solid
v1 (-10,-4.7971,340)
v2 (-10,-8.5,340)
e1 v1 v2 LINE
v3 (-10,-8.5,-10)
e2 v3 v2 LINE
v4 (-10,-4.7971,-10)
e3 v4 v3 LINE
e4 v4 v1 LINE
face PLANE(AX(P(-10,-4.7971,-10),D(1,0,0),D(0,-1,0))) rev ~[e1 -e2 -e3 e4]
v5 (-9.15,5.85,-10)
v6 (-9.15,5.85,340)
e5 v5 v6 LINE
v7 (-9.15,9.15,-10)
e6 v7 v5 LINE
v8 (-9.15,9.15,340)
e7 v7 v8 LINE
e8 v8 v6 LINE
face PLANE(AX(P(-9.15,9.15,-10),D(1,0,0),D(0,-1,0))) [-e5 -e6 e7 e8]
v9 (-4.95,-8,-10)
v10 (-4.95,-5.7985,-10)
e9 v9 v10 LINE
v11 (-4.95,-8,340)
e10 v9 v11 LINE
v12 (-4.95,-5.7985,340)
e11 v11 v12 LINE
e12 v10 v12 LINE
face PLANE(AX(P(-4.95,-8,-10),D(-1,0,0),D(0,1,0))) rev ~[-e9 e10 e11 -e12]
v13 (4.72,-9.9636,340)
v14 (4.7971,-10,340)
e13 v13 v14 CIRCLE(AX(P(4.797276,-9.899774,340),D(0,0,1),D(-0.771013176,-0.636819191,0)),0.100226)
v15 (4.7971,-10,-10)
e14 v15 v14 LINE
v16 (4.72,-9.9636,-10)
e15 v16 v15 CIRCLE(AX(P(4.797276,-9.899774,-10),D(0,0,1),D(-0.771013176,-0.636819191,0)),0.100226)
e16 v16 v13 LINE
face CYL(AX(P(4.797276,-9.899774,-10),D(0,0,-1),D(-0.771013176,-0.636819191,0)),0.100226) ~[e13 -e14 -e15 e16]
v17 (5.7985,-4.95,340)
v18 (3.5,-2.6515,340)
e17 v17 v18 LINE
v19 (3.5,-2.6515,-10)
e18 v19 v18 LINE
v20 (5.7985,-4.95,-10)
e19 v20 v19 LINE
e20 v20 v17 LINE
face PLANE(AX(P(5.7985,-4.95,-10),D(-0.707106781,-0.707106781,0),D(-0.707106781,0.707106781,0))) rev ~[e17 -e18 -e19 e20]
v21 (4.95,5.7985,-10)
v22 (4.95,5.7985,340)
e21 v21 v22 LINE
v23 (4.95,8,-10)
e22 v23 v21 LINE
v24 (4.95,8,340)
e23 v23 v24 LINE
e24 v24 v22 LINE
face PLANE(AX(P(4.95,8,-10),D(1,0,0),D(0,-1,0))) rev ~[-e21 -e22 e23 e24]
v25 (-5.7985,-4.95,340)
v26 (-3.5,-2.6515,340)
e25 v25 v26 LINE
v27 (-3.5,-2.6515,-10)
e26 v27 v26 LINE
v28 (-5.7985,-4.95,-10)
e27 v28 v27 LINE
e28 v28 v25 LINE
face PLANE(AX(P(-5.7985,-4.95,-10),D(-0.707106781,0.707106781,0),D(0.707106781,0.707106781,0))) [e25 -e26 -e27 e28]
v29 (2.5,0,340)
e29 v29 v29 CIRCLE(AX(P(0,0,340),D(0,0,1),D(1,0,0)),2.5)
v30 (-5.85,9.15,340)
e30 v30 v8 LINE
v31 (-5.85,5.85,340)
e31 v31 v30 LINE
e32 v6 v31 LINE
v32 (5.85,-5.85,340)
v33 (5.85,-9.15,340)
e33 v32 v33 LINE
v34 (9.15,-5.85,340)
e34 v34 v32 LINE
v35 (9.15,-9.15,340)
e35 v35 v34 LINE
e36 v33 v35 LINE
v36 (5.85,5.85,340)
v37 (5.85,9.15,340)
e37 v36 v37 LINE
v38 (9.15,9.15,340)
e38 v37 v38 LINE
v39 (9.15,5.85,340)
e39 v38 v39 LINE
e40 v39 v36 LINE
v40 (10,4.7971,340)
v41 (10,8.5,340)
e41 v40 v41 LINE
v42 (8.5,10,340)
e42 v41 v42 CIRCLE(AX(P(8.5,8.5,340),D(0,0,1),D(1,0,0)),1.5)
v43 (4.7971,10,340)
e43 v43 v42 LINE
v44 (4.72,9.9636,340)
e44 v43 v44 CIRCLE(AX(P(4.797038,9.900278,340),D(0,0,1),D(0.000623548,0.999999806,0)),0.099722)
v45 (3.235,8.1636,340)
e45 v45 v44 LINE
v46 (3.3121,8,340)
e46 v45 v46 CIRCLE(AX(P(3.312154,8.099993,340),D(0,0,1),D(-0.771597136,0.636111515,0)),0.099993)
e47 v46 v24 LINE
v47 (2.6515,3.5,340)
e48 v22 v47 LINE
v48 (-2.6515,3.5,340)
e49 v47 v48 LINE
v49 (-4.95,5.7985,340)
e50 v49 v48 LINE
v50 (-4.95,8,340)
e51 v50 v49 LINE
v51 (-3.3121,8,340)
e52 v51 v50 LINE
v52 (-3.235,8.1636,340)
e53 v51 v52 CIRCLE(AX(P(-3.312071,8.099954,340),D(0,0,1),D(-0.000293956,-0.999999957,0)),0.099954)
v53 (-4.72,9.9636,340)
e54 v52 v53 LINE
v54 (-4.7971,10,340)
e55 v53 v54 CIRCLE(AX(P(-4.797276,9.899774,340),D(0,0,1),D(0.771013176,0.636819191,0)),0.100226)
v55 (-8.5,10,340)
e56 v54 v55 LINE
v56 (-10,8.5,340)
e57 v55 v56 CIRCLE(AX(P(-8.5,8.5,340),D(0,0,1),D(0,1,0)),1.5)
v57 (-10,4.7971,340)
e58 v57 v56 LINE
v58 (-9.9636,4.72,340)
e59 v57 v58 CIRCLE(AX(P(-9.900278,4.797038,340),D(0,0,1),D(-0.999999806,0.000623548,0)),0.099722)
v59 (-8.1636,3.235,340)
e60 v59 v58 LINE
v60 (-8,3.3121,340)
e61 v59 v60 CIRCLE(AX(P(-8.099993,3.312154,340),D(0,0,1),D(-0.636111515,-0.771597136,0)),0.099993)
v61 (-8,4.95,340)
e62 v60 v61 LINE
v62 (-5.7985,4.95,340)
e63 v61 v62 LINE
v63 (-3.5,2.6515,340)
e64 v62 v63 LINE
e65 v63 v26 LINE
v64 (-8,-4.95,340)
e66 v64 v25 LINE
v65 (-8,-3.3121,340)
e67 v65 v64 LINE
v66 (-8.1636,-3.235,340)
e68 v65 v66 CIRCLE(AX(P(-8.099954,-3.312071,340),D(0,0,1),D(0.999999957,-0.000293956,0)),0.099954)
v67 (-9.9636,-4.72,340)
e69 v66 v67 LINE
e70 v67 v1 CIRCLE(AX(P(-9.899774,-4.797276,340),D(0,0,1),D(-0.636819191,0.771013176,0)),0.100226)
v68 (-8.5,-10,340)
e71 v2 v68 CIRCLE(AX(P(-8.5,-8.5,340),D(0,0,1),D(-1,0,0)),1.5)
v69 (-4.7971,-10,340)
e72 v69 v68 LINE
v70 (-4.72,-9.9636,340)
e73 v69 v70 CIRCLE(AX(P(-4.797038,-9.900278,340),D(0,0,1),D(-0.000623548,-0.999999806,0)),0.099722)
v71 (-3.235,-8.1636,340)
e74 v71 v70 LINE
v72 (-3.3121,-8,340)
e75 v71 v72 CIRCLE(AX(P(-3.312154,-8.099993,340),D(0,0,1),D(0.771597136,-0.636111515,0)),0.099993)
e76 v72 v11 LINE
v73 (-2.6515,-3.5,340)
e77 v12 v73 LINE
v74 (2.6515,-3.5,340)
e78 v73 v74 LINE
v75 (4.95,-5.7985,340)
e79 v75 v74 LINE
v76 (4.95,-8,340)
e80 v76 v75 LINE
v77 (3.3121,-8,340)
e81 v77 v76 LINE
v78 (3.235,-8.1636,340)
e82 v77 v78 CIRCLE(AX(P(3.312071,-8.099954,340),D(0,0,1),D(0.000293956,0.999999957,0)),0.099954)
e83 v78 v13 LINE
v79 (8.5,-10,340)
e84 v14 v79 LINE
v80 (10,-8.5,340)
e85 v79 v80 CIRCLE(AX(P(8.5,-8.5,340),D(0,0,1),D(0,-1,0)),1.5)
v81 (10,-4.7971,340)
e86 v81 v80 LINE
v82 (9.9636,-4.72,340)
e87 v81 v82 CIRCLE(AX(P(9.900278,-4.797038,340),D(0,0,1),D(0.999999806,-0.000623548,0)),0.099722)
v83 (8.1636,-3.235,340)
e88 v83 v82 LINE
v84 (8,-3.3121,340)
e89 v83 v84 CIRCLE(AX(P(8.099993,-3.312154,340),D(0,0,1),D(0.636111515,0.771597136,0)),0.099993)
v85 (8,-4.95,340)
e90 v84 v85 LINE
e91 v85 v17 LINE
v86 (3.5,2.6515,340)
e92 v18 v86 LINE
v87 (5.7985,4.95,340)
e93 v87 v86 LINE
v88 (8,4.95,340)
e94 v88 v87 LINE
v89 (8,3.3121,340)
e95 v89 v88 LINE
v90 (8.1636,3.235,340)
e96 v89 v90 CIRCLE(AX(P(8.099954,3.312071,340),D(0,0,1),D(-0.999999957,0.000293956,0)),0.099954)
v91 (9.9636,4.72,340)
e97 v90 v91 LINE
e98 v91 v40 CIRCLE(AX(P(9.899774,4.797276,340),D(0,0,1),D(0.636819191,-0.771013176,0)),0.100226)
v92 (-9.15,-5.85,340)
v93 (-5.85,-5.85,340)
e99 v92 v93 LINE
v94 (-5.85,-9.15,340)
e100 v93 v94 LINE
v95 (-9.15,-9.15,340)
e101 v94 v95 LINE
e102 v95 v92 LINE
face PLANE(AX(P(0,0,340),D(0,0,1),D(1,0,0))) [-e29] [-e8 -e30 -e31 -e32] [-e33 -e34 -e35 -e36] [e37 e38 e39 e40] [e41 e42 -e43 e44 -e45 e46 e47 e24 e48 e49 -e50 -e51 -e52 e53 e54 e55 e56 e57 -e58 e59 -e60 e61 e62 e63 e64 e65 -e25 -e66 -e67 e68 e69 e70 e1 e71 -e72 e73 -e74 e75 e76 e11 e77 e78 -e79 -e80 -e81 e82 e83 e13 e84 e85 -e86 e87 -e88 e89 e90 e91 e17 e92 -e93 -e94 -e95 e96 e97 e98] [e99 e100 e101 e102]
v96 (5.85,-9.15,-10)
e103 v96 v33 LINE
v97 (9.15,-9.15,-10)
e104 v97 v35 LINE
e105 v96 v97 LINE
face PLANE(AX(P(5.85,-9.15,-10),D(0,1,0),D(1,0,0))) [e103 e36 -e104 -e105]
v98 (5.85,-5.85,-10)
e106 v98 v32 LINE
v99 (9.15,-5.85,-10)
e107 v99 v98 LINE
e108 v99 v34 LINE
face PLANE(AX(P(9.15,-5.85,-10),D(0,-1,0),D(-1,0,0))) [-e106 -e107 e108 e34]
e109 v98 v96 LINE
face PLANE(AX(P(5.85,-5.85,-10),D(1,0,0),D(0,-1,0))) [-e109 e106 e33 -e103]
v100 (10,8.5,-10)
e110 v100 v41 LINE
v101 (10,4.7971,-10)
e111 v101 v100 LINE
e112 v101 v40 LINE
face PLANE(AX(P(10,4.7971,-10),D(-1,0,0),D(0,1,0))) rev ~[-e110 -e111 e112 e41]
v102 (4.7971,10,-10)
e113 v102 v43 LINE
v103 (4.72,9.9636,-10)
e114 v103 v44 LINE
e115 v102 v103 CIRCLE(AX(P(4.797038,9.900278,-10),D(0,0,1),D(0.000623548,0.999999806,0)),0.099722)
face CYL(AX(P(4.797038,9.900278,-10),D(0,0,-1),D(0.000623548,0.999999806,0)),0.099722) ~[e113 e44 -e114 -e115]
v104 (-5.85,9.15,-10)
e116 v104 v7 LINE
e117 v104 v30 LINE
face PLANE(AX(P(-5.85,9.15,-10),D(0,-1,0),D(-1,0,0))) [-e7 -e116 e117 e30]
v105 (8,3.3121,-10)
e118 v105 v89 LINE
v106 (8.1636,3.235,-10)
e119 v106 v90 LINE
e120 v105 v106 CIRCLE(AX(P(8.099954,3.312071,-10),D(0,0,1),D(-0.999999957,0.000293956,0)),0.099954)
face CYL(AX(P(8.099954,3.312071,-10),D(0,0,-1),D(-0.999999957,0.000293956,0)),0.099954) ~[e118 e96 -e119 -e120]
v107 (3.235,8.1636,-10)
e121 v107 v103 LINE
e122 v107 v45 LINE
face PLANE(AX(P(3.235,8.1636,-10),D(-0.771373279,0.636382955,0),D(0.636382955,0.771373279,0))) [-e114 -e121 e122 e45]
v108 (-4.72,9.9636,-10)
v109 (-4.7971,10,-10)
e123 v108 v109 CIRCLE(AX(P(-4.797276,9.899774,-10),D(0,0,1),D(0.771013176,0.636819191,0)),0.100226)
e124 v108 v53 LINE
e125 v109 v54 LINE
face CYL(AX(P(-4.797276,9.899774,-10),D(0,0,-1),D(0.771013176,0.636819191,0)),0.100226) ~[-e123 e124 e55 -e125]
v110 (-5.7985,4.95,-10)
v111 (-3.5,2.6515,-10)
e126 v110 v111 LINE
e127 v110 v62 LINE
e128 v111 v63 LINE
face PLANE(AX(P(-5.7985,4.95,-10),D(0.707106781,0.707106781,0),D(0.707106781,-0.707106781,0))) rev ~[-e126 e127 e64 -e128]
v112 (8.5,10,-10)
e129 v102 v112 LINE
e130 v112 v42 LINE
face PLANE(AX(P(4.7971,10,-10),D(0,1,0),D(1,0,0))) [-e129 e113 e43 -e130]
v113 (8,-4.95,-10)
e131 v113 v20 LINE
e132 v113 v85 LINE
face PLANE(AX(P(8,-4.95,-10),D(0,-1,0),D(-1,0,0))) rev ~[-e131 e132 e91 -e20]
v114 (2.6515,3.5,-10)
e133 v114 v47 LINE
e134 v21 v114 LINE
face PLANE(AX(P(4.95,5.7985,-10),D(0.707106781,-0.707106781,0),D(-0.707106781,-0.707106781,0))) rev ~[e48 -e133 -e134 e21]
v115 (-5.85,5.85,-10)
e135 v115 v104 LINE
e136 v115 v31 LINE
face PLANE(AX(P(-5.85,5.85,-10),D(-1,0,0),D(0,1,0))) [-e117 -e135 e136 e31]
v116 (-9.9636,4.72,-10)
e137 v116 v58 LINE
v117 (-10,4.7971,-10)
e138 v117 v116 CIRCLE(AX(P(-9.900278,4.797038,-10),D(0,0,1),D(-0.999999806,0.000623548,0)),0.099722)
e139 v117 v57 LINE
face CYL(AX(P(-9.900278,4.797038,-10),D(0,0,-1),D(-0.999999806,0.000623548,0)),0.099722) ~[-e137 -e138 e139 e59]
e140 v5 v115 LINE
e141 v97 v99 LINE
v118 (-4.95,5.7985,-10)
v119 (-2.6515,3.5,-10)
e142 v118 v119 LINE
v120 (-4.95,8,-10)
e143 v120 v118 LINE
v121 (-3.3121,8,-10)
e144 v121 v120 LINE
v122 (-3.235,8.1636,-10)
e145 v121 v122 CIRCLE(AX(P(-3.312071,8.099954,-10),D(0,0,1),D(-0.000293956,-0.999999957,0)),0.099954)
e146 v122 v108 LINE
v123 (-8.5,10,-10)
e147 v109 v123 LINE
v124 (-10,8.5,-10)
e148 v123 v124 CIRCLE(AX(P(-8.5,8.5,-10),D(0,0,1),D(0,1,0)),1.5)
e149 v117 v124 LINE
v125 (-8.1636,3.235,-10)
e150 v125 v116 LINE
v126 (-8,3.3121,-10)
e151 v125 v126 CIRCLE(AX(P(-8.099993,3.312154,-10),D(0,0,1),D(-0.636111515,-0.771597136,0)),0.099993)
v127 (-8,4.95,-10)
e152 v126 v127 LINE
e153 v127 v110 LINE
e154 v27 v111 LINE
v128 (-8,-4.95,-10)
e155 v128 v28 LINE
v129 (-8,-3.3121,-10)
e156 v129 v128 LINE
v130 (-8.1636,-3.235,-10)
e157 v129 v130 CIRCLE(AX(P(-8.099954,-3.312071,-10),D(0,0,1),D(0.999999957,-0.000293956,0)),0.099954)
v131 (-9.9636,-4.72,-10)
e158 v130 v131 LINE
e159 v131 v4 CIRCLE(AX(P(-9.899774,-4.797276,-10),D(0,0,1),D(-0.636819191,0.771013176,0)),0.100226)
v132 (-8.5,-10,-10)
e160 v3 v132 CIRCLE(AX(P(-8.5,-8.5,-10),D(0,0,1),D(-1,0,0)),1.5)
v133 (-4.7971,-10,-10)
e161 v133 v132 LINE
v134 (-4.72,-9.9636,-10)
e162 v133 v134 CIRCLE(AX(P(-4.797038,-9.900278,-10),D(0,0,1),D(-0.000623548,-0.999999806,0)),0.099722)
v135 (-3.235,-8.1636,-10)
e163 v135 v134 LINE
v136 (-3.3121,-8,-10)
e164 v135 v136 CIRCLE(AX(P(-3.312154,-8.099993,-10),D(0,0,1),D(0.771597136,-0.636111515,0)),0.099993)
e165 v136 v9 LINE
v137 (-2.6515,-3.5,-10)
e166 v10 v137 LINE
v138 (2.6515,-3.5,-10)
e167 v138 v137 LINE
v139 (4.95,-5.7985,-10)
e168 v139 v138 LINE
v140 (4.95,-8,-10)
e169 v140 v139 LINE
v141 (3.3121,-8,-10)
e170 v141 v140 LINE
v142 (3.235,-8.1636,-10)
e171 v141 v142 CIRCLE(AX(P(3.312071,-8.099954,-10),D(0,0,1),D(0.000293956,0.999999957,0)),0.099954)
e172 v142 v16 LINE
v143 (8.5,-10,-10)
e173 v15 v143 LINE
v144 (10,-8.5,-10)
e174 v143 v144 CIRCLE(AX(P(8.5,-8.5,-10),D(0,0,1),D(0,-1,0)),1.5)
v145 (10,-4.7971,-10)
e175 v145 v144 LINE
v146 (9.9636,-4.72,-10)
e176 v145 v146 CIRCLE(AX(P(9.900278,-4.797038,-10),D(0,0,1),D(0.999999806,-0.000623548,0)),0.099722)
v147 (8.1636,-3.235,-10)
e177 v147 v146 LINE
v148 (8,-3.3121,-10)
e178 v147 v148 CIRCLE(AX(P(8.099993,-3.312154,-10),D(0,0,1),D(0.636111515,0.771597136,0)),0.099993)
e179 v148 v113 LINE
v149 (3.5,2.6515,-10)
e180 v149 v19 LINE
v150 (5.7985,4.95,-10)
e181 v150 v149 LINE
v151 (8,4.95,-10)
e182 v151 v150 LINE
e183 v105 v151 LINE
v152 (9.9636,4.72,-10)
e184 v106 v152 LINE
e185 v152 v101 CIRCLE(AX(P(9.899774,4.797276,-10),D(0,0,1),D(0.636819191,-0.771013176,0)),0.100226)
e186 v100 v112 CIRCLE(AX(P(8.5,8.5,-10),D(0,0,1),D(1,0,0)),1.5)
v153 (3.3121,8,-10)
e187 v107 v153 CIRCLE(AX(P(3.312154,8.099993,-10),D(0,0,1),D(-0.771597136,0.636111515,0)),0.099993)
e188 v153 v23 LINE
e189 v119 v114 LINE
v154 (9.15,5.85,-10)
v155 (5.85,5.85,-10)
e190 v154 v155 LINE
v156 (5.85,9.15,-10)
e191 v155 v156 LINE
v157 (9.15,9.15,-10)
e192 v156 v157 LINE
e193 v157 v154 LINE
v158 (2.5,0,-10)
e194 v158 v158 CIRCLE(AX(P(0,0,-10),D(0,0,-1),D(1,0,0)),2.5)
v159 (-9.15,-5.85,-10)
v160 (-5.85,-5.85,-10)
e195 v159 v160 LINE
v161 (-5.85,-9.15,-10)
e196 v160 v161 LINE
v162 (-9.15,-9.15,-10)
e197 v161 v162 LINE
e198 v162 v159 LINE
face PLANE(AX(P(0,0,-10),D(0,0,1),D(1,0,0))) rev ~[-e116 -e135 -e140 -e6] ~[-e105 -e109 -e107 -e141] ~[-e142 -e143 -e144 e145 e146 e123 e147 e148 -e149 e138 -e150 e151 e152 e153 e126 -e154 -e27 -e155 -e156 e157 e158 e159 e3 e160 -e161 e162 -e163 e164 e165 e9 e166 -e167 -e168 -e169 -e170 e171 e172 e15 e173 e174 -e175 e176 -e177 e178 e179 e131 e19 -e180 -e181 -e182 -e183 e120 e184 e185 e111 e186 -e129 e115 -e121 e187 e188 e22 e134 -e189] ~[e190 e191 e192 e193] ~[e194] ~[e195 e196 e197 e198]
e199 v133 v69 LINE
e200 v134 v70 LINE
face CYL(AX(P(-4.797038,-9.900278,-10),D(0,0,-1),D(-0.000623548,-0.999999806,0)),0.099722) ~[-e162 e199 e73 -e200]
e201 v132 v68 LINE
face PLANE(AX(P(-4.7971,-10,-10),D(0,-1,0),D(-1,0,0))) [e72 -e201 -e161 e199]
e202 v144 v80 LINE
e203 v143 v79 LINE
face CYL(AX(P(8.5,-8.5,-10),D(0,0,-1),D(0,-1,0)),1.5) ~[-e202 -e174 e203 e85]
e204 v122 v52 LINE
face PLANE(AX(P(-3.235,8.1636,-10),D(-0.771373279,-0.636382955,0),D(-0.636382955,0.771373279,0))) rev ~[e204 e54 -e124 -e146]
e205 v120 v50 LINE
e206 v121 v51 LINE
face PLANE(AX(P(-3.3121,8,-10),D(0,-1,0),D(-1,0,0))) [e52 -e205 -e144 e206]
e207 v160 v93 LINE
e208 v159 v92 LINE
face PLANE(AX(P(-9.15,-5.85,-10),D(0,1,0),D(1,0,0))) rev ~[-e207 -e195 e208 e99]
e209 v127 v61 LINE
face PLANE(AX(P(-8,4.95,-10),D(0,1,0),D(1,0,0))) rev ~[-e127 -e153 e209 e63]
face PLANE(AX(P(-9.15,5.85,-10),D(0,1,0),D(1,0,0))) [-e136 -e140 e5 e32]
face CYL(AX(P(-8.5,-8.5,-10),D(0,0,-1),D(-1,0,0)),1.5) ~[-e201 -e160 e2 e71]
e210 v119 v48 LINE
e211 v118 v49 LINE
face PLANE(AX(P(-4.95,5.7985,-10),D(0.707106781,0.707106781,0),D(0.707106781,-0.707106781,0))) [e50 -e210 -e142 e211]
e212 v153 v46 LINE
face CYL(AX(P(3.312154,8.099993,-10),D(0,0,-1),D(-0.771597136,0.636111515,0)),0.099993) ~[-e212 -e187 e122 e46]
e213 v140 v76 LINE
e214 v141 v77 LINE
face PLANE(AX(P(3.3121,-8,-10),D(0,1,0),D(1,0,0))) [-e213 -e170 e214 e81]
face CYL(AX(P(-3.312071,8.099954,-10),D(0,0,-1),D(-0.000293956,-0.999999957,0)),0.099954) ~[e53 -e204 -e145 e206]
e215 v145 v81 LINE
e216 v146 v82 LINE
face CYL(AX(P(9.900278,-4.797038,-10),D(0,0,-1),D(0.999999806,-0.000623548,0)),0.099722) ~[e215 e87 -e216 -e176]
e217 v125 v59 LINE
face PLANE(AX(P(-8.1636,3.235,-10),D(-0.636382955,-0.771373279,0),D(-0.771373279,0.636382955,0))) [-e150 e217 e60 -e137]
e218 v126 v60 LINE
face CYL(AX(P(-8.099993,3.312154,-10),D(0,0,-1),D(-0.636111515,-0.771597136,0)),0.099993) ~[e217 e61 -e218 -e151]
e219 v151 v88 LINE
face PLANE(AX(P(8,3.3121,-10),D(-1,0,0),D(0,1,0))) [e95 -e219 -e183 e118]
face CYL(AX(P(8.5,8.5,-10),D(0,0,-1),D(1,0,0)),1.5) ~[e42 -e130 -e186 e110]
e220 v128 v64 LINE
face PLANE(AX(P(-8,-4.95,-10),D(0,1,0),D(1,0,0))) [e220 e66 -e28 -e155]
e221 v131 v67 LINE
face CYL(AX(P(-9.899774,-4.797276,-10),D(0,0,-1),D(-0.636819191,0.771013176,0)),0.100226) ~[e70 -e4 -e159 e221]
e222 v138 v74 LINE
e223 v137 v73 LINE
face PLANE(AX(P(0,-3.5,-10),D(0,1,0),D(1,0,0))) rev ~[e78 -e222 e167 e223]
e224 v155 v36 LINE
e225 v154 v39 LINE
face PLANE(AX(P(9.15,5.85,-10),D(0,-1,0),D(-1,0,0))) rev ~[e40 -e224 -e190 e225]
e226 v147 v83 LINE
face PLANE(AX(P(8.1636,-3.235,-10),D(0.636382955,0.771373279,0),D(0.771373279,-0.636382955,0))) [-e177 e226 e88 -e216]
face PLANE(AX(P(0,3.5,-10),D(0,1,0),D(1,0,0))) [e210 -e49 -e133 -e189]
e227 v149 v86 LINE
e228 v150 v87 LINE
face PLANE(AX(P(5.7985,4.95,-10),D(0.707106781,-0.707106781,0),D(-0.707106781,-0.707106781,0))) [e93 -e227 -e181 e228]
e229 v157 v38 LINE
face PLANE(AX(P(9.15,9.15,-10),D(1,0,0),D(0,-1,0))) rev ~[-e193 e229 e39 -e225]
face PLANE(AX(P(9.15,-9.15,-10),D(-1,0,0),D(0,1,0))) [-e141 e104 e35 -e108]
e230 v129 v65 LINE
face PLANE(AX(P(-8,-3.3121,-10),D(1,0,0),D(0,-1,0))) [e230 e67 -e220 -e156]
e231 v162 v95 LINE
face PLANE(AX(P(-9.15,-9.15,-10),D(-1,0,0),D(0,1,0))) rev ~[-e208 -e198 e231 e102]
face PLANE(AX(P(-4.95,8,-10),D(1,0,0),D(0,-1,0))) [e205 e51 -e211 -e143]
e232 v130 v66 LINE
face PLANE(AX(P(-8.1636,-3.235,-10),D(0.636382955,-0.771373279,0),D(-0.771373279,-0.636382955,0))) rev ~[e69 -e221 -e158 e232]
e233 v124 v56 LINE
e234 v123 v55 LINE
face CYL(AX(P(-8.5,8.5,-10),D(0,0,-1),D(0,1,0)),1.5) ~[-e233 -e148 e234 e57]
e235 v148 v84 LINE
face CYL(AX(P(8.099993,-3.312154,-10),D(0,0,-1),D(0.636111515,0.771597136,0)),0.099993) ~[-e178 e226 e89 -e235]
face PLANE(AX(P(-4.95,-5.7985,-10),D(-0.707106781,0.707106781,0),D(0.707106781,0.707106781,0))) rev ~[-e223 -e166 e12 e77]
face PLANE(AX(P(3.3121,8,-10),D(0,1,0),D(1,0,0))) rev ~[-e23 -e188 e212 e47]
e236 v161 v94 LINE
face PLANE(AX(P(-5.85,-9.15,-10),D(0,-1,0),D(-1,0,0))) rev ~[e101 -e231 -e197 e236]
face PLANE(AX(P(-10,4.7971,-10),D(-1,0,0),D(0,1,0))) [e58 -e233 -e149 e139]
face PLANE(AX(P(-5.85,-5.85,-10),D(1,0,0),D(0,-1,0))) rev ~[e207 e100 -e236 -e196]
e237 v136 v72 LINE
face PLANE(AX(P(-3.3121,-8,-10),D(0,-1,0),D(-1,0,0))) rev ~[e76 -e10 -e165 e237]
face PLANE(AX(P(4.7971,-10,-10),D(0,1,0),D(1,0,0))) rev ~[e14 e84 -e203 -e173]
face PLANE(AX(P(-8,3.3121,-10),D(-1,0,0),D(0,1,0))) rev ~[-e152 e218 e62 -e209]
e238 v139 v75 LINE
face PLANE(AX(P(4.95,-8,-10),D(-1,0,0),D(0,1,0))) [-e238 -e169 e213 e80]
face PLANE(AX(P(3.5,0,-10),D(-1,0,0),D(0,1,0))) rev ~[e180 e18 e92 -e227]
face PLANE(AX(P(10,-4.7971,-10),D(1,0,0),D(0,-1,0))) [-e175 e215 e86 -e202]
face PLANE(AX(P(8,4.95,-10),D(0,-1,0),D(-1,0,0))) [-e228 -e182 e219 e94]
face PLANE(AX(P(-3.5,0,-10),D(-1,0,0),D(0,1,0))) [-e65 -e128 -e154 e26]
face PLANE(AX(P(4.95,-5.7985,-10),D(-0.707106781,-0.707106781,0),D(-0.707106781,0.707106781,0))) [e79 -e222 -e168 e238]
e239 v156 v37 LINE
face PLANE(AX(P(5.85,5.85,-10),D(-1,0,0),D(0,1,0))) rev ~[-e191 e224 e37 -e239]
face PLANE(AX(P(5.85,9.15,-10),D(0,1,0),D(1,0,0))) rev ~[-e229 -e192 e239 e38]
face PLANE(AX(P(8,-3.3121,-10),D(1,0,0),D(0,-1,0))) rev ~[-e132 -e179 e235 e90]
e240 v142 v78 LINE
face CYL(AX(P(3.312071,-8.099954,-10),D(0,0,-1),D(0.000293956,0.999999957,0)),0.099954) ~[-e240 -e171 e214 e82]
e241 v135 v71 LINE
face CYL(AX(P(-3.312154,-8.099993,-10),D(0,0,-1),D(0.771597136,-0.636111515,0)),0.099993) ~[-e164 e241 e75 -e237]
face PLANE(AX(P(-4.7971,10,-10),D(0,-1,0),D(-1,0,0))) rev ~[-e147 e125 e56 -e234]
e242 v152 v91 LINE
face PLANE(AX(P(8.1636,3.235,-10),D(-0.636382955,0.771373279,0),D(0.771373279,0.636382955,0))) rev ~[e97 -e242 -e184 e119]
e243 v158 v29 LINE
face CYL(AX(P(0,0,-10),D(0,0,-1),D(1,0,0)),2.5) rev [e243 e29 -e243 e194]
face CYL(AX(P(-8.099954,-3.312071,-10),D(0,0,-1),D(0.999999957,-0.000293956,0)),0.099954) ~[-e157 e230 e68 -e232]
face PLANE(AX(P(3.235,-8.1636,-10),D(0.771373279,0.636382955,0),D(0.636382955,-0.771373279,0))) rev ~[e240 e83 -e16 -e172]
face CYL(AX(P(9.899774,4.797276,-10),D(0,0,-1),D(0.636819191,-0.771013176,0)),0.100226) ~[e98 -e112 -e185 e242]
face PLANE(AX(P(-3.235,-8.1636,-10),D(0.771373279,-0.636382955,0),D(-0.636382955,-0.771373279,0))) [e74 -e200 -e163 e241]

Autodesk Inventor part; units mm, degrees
ref_plane "Начальная плоскость" through (0, 0, -10) normal (0, 0, 1) x (1, 0, 0)
ref_plane "Конечная плоскость" through (0, 0, 340) normal (0, 0, 1) x (1, 0, 0)
sketch "Эскиз" plane through (0, 0, 0) normal (0, 0, 1) x (1, 0, 0)
  line L0 (-14.4349, 0) -> (14.4349, 0) projected
  line L1 (0, -14) -> (0, 14) projected
  line L2 (0, 0) -> (7.5, 7.5) construction
  circle A0 centre (7.5, 7.5) radius 1.65 construction
  line L3 (5.85, 9.15) -> (9.15, 9.15)
  line L4 (9.15, 9.15) -> (9.15, 5.85)
  line L5 (9.15, 5.85) -> (5.85, 5.85)
  line L6 (5.85, 5.85) -> (5.85, 9.15)
  line L7 (3.235, 8.1636) -> (4.72, 9.9636)
  line L8 (4.7971, 10) -> (8.5, 10)
  line L9 (3.3121, 8) -> (4.95, 8)
  line L10 (4.95, 8) -> (4.95, 5.7985)
  line L11 (4.95, 5.7985) -> (2.6515, 3.5)
  line L12 (0, 3.5) -> (2.6515, 3.5)
  circle A1 centre (0, 0) radius 2.5
  line L13 (8.1636, 3.235) -> (9.9636, 4.72)
  line L14 (10, 4.7971) -> (10, 8.5)
  line L15 (8, 3.3121) -> (8, 4.95)
  line L16 (8, 4.95) -> (5.7985, 4.95)
  line L17 (5.7985, 4.95) -> (3.5, 2.6515)
  line L18 (3.5, 0) -> (3.5, 2.6515)
  arc A2 (10, 8.5) -> (8.5, 10) centre (8.5, 8.5) ccw
  line L19 (0, 0) -> (-7.5, 7.5) construction
  circle A3 centre (-7.5, 7.5) radius 1.65 construction
  line L20 (-5.85, 9.15) -> (-9.15, 9.15)
  line L21 (-9.15, 9.15) -> (-9.15, 5.85)
  line L22 (-9.15, 5.85) -> (-5.85, 5.85)
  line L23 (-5.85, 5.85) -> (-5.85, 9.15)
  line L24 (-3.235, 8.1636) -> (-4.72, 9.9636)
  line L25 (-4.7971, 10) -> (-8.5, 10)
  line L26 (-3.3121, 8) -> (-4.95, 8)
  line L27 (-4.95, 8) -> (-4.95, 5.7985)
  line L28 (-4.95, 5.7985) -> (-2.6515, 3.5)
  line L29 (0, 3.5) -> (-2.6515, 3.5)
  line L30 (-3.5, 0) -> (-3.5, 2.6515)
  line L31 (-5.7985, 4.95) -> (-3.5, 2.6515)
  line L32 (-8, 4.95) -> (-5.7985, 4.95)
  line L33 (-8, 3.3121) -> (-8, 4.95)
  line L34 (-8.1636, 3.235) -> (-9.9636, 4.72)
  line L35 (-10, 4.7971) -> (-10, 8.5)
  arc A4 (-8.5, 10) -> (-10, 8.5) centre (-8.5, 8.5) ccw
  line L36 (0, 14) -> (0, -14)
  line L37 (0, 0) -> (7.5, -7.5) construction
  circle A5 centre (7.5, -7.5) radius 1.65 construction
  line L38 (5.85, -9.15) -> (9.15, -9.15)
  line L39 (9.15, -9.15) -> (9.15, -5.85)
  line L40 (9.15, -5.85) -> (5.85, -5.85)
  line L41 (5.85, -5.85) -> (5.85, -9.15)
  line L42 (3.235, -8.1636) -> (4.72, -9.9636)
  line L43 (4.7971, -10) -> (8.5, -10)
  line L44 (3.3121, -8) -> (4.95, -8)
  line L45 (4.95, -8) -> (4.95, -5.7985)
  line L46 (4.95, -5.7985) -> (2.6515, -3.5)
  line L47 (0, -3.5) -> (2.6515, -3.5)
  line L48 (3.5, 0) -> (3.5, -2.6515)
  line L49 (5.7985, -4.95) -> (3.5, -2.6515)
  line L50 (8, -4.95) -> (5.7985, -4.95)
  line L51 (8, -3.3121) -> (8, -4.95)
  line L52 (8.1636, -3.235) -> (9.9636, -4.72)
  line L53 (10, -4.7971) -> (10, -8.5)
  arc A6 (8.5, -10) -> (10, -8.5) centre (8.5, -8.5) ccw
  line L54 (0, 0) -> (-7.5, -7.5) construction
  line L55 (-4.95, -8) -> (-4.95, -5.7985)
  line L56 (-3.3121, -8) -> (-4.95, -8)
  line L57 (-5.7985, -4.95) -> (-3.5, -2.6515)
  line L58 (-4.95, -5.7985) -> (-2.6515, -3.5)
  line L59 (-3.5, 0) -> (-3.5, -2.6515)
  line L60 (0, -3.5) -> (-2.6515, -3.5)
  circle A7 centre (-7.5, -7.5) radius 1.65 construction
  line L61 (-5.85, -5.85) -> (-5.85, -9.15)
  line L62 (-5.85, -9.15) -> (-9.15, -9.15)
  line L63 (-9.15, -9.15) -> (-9.15, -5.85)
  line L64 (-9.15, -5.85) -> (-5.85, -5.85)
  line L65 (-3.235, -8.1636) -> (-4.72, -9.9636)
  line L66 (-8, -4.95) -> (-5.7985, -4.95)
  line L67 (-8, -3.3121) -> (-8, -4.95)
  line L68 (-8.1636, -3.235) -> (-9.9636, -4.72)
  line L69 (-4.7971, -10) -> (-8.5, -10)
  line L70 (-10, -4.7971) -> (-10, -8.5)
  arc A8 (-10, -8.5) -> (-8.5, -10) centre (-8.5, -8.5) ccw
  arc A9 (3.235, 8.1636) -> (3.3121, 8) centre (3.3121, 8.1) ccw
  arc A10 (4.7971, 10) -> (4.72, 9.9636) centre (4.7971, 9.9) ccw
  arc A11 (8, 3.3121) -> (8.1636, 3.235) centre (8.1, 3.3121) ccw
  arc A12 (9.9636, 4.72) -> (10, 4.7971) centre (9.9, 4.7971) ccw
  arc A13 (-3.3121, 8) -> (-3.235, 8.1636) centre (-3.3121, 8.1) ccw
  arc A14 (-4.72, 9.9636) -> (-4.7971, 10) centre (-4.7971, 9.9) ccw
  arc A15 (-8.1636, 3.235) -> (-8, 3.3121) centre (-8.1, 3.3121) ccw
  arc A16 (-10, 4.7971) -> (-9.9636, 4.72) centre (-9.9, 4.7971) ccw
  arc A17 (-8, -3.3121) -> (-8.1636, -3.235) centre (-8.1, -3.3121) ccw
  arc A18 (-9.9636, -4.72) -> (-10, -4.7971) centre (-9.9, -4.7971) ccw
  arc A19 (-3.235, -8.1636) -> (-3.3121, -8) centre (-3.3121, -8.1) ccw
  arc A20 (-4.7971, -10) -> (-4.72, -9.9636) centre (-4.7971, -9.9) ccw
  arc A21 (4.72, -9.9636) -> (4.7971, -10) centre (4.7971, -9.9) ccw
  arc A22 (3.3121, -8) -> (3.235, -8.1636) centre (3.3121, -8.1) ccw
  arc A23 (8.1636, -3.235) -> (8, -3.3121) centre (8.1, -3.3121) ccw
  arc A24 (10, -4.7971) -> (9.9636, -4.72) centre (9.9, -4.7971) ccw
  point P0 (3.1, 8)
  point P1 (4.75, 10)
  point P2 (7.5, 9.15)
  point P3 (8, 3.1)
  point P4 (10, 4.75)
  point P5 (7.5, 5.85)
  point P6 (9.15, 7.5)
  point P7 (-3.1, 8)
  point P8 (-4.75, 10)
  point P9 (-7.5, 9.15)
  point P10 (-8, 3.1)
  point P11 (-10, 4.75)
  point P12 (-7.5, 5.85)
  point P13 (-9.15, 7.5)
  point P14 (3.1, -8)
  point P15 (4.75, -10)
  point P16 (7.5, -9.15)
  point P17 (8, -3.1)
  point P18 (10, -4.75)
  point P19 (7.5, -5.85)
  point P20 (9.15, -7.5)
  point P21 (-3.1, -8)
  point P22 (-7.5, -5.85)
  point P23 (-7.5, -9.15)
  point P24 (-9.15, -7.5)
  point P25 (-4.75, -10)
  point P26 (-8, -3.1)
  point P27 (-10, -4.75)
  dimension "d0" = 45
  dimension "d1" = 3.3
  dimension "d2" = 1.5
  dimension "d3" = 1.2
  dimension "d4" = 5
  dimension "d5" = 6.5
  dimension "d6" = 15
  dimension "d7" = 20
  dimension "d8" = 9.9
  dimension "d9" = 9.5
  dimension "d10" = 6.2
  dimension "d11" = 2
  dimension "d18" = 0.1
  dimension "d19" = 0.1
extrude "Тело" add sketch "Эскиз" along normal up to surface (350 mm away) from surface at -10 contours A1 L1 L12 L11 L10 L9 A9 L7 A10 L8 A2 L14 A12 L13 A11 L15 L16 L17 L18 L0 | L0 L48 L49 L50 L51 A23 L52 A24 L53 A6 L43 A21 L42 A22 L44 L45 L46 L47 L1 A1 | A1 L0 L30 L31 L32 L33 A15 L34 A16 L35 A4 L25 A14 L24 A13 L26 L27 L28 L29 L1 | L1 L60 L58 L55 L56 A19 L65 A20 L69 A8 L70 A18 L68 A17 L67 L66 L57 L59 L0 A1
sketch "Эскиз2" plane through (0, 0, 0) normal (0, 0, 1) x (1, 0, 0)
  line L0 (0, 0) -> (10, 0)
ref_plane "РабПлоскость3" through (0, 0, 0) normal (0, -1, 0) x (1, 0, 0)
sketch "Эскиз3" plane through (0, 0, 0) normal (0, -1, 0) x (1, 0, 0)
  line L0 (-2, -10) -> (12, -10)
  line L1 (-2, 340) -> (12, 340)
  dimension "d25" = 350
ref_plane "РабПлоскость4" through (50, 0, 340) normal (0, 0, 1) x (1, 0, 0)
split "Разделение1" plane through (50, 0, 340) removes the side toward (0, 0, 1)
ref_plane "РабПлоскость5" through (0, -10, 340) normal (0, 0, 1) x (1, 0, 0)
split "Разделение2" plane through (0, -10, 340) removes the side toward (0, 0, 1)
ref_plane "РабПлоскость6" through (0, 0, -10) normal (0, 0, -1) x (-1, 0, 0)
split "Разделение3" plane through (0, 0, -10) removes the side toward (0, 0, -1)
ref_plane "РабПлоскость7" through (40, 0, -10) normal (0, 0, -1) x (-1, 0, 0)
split "Разделение4" plane through (40, 0, -10) removes the side toward (0, 0, -1)
properties part number "короткая палка" material "Алюминий 6061"
